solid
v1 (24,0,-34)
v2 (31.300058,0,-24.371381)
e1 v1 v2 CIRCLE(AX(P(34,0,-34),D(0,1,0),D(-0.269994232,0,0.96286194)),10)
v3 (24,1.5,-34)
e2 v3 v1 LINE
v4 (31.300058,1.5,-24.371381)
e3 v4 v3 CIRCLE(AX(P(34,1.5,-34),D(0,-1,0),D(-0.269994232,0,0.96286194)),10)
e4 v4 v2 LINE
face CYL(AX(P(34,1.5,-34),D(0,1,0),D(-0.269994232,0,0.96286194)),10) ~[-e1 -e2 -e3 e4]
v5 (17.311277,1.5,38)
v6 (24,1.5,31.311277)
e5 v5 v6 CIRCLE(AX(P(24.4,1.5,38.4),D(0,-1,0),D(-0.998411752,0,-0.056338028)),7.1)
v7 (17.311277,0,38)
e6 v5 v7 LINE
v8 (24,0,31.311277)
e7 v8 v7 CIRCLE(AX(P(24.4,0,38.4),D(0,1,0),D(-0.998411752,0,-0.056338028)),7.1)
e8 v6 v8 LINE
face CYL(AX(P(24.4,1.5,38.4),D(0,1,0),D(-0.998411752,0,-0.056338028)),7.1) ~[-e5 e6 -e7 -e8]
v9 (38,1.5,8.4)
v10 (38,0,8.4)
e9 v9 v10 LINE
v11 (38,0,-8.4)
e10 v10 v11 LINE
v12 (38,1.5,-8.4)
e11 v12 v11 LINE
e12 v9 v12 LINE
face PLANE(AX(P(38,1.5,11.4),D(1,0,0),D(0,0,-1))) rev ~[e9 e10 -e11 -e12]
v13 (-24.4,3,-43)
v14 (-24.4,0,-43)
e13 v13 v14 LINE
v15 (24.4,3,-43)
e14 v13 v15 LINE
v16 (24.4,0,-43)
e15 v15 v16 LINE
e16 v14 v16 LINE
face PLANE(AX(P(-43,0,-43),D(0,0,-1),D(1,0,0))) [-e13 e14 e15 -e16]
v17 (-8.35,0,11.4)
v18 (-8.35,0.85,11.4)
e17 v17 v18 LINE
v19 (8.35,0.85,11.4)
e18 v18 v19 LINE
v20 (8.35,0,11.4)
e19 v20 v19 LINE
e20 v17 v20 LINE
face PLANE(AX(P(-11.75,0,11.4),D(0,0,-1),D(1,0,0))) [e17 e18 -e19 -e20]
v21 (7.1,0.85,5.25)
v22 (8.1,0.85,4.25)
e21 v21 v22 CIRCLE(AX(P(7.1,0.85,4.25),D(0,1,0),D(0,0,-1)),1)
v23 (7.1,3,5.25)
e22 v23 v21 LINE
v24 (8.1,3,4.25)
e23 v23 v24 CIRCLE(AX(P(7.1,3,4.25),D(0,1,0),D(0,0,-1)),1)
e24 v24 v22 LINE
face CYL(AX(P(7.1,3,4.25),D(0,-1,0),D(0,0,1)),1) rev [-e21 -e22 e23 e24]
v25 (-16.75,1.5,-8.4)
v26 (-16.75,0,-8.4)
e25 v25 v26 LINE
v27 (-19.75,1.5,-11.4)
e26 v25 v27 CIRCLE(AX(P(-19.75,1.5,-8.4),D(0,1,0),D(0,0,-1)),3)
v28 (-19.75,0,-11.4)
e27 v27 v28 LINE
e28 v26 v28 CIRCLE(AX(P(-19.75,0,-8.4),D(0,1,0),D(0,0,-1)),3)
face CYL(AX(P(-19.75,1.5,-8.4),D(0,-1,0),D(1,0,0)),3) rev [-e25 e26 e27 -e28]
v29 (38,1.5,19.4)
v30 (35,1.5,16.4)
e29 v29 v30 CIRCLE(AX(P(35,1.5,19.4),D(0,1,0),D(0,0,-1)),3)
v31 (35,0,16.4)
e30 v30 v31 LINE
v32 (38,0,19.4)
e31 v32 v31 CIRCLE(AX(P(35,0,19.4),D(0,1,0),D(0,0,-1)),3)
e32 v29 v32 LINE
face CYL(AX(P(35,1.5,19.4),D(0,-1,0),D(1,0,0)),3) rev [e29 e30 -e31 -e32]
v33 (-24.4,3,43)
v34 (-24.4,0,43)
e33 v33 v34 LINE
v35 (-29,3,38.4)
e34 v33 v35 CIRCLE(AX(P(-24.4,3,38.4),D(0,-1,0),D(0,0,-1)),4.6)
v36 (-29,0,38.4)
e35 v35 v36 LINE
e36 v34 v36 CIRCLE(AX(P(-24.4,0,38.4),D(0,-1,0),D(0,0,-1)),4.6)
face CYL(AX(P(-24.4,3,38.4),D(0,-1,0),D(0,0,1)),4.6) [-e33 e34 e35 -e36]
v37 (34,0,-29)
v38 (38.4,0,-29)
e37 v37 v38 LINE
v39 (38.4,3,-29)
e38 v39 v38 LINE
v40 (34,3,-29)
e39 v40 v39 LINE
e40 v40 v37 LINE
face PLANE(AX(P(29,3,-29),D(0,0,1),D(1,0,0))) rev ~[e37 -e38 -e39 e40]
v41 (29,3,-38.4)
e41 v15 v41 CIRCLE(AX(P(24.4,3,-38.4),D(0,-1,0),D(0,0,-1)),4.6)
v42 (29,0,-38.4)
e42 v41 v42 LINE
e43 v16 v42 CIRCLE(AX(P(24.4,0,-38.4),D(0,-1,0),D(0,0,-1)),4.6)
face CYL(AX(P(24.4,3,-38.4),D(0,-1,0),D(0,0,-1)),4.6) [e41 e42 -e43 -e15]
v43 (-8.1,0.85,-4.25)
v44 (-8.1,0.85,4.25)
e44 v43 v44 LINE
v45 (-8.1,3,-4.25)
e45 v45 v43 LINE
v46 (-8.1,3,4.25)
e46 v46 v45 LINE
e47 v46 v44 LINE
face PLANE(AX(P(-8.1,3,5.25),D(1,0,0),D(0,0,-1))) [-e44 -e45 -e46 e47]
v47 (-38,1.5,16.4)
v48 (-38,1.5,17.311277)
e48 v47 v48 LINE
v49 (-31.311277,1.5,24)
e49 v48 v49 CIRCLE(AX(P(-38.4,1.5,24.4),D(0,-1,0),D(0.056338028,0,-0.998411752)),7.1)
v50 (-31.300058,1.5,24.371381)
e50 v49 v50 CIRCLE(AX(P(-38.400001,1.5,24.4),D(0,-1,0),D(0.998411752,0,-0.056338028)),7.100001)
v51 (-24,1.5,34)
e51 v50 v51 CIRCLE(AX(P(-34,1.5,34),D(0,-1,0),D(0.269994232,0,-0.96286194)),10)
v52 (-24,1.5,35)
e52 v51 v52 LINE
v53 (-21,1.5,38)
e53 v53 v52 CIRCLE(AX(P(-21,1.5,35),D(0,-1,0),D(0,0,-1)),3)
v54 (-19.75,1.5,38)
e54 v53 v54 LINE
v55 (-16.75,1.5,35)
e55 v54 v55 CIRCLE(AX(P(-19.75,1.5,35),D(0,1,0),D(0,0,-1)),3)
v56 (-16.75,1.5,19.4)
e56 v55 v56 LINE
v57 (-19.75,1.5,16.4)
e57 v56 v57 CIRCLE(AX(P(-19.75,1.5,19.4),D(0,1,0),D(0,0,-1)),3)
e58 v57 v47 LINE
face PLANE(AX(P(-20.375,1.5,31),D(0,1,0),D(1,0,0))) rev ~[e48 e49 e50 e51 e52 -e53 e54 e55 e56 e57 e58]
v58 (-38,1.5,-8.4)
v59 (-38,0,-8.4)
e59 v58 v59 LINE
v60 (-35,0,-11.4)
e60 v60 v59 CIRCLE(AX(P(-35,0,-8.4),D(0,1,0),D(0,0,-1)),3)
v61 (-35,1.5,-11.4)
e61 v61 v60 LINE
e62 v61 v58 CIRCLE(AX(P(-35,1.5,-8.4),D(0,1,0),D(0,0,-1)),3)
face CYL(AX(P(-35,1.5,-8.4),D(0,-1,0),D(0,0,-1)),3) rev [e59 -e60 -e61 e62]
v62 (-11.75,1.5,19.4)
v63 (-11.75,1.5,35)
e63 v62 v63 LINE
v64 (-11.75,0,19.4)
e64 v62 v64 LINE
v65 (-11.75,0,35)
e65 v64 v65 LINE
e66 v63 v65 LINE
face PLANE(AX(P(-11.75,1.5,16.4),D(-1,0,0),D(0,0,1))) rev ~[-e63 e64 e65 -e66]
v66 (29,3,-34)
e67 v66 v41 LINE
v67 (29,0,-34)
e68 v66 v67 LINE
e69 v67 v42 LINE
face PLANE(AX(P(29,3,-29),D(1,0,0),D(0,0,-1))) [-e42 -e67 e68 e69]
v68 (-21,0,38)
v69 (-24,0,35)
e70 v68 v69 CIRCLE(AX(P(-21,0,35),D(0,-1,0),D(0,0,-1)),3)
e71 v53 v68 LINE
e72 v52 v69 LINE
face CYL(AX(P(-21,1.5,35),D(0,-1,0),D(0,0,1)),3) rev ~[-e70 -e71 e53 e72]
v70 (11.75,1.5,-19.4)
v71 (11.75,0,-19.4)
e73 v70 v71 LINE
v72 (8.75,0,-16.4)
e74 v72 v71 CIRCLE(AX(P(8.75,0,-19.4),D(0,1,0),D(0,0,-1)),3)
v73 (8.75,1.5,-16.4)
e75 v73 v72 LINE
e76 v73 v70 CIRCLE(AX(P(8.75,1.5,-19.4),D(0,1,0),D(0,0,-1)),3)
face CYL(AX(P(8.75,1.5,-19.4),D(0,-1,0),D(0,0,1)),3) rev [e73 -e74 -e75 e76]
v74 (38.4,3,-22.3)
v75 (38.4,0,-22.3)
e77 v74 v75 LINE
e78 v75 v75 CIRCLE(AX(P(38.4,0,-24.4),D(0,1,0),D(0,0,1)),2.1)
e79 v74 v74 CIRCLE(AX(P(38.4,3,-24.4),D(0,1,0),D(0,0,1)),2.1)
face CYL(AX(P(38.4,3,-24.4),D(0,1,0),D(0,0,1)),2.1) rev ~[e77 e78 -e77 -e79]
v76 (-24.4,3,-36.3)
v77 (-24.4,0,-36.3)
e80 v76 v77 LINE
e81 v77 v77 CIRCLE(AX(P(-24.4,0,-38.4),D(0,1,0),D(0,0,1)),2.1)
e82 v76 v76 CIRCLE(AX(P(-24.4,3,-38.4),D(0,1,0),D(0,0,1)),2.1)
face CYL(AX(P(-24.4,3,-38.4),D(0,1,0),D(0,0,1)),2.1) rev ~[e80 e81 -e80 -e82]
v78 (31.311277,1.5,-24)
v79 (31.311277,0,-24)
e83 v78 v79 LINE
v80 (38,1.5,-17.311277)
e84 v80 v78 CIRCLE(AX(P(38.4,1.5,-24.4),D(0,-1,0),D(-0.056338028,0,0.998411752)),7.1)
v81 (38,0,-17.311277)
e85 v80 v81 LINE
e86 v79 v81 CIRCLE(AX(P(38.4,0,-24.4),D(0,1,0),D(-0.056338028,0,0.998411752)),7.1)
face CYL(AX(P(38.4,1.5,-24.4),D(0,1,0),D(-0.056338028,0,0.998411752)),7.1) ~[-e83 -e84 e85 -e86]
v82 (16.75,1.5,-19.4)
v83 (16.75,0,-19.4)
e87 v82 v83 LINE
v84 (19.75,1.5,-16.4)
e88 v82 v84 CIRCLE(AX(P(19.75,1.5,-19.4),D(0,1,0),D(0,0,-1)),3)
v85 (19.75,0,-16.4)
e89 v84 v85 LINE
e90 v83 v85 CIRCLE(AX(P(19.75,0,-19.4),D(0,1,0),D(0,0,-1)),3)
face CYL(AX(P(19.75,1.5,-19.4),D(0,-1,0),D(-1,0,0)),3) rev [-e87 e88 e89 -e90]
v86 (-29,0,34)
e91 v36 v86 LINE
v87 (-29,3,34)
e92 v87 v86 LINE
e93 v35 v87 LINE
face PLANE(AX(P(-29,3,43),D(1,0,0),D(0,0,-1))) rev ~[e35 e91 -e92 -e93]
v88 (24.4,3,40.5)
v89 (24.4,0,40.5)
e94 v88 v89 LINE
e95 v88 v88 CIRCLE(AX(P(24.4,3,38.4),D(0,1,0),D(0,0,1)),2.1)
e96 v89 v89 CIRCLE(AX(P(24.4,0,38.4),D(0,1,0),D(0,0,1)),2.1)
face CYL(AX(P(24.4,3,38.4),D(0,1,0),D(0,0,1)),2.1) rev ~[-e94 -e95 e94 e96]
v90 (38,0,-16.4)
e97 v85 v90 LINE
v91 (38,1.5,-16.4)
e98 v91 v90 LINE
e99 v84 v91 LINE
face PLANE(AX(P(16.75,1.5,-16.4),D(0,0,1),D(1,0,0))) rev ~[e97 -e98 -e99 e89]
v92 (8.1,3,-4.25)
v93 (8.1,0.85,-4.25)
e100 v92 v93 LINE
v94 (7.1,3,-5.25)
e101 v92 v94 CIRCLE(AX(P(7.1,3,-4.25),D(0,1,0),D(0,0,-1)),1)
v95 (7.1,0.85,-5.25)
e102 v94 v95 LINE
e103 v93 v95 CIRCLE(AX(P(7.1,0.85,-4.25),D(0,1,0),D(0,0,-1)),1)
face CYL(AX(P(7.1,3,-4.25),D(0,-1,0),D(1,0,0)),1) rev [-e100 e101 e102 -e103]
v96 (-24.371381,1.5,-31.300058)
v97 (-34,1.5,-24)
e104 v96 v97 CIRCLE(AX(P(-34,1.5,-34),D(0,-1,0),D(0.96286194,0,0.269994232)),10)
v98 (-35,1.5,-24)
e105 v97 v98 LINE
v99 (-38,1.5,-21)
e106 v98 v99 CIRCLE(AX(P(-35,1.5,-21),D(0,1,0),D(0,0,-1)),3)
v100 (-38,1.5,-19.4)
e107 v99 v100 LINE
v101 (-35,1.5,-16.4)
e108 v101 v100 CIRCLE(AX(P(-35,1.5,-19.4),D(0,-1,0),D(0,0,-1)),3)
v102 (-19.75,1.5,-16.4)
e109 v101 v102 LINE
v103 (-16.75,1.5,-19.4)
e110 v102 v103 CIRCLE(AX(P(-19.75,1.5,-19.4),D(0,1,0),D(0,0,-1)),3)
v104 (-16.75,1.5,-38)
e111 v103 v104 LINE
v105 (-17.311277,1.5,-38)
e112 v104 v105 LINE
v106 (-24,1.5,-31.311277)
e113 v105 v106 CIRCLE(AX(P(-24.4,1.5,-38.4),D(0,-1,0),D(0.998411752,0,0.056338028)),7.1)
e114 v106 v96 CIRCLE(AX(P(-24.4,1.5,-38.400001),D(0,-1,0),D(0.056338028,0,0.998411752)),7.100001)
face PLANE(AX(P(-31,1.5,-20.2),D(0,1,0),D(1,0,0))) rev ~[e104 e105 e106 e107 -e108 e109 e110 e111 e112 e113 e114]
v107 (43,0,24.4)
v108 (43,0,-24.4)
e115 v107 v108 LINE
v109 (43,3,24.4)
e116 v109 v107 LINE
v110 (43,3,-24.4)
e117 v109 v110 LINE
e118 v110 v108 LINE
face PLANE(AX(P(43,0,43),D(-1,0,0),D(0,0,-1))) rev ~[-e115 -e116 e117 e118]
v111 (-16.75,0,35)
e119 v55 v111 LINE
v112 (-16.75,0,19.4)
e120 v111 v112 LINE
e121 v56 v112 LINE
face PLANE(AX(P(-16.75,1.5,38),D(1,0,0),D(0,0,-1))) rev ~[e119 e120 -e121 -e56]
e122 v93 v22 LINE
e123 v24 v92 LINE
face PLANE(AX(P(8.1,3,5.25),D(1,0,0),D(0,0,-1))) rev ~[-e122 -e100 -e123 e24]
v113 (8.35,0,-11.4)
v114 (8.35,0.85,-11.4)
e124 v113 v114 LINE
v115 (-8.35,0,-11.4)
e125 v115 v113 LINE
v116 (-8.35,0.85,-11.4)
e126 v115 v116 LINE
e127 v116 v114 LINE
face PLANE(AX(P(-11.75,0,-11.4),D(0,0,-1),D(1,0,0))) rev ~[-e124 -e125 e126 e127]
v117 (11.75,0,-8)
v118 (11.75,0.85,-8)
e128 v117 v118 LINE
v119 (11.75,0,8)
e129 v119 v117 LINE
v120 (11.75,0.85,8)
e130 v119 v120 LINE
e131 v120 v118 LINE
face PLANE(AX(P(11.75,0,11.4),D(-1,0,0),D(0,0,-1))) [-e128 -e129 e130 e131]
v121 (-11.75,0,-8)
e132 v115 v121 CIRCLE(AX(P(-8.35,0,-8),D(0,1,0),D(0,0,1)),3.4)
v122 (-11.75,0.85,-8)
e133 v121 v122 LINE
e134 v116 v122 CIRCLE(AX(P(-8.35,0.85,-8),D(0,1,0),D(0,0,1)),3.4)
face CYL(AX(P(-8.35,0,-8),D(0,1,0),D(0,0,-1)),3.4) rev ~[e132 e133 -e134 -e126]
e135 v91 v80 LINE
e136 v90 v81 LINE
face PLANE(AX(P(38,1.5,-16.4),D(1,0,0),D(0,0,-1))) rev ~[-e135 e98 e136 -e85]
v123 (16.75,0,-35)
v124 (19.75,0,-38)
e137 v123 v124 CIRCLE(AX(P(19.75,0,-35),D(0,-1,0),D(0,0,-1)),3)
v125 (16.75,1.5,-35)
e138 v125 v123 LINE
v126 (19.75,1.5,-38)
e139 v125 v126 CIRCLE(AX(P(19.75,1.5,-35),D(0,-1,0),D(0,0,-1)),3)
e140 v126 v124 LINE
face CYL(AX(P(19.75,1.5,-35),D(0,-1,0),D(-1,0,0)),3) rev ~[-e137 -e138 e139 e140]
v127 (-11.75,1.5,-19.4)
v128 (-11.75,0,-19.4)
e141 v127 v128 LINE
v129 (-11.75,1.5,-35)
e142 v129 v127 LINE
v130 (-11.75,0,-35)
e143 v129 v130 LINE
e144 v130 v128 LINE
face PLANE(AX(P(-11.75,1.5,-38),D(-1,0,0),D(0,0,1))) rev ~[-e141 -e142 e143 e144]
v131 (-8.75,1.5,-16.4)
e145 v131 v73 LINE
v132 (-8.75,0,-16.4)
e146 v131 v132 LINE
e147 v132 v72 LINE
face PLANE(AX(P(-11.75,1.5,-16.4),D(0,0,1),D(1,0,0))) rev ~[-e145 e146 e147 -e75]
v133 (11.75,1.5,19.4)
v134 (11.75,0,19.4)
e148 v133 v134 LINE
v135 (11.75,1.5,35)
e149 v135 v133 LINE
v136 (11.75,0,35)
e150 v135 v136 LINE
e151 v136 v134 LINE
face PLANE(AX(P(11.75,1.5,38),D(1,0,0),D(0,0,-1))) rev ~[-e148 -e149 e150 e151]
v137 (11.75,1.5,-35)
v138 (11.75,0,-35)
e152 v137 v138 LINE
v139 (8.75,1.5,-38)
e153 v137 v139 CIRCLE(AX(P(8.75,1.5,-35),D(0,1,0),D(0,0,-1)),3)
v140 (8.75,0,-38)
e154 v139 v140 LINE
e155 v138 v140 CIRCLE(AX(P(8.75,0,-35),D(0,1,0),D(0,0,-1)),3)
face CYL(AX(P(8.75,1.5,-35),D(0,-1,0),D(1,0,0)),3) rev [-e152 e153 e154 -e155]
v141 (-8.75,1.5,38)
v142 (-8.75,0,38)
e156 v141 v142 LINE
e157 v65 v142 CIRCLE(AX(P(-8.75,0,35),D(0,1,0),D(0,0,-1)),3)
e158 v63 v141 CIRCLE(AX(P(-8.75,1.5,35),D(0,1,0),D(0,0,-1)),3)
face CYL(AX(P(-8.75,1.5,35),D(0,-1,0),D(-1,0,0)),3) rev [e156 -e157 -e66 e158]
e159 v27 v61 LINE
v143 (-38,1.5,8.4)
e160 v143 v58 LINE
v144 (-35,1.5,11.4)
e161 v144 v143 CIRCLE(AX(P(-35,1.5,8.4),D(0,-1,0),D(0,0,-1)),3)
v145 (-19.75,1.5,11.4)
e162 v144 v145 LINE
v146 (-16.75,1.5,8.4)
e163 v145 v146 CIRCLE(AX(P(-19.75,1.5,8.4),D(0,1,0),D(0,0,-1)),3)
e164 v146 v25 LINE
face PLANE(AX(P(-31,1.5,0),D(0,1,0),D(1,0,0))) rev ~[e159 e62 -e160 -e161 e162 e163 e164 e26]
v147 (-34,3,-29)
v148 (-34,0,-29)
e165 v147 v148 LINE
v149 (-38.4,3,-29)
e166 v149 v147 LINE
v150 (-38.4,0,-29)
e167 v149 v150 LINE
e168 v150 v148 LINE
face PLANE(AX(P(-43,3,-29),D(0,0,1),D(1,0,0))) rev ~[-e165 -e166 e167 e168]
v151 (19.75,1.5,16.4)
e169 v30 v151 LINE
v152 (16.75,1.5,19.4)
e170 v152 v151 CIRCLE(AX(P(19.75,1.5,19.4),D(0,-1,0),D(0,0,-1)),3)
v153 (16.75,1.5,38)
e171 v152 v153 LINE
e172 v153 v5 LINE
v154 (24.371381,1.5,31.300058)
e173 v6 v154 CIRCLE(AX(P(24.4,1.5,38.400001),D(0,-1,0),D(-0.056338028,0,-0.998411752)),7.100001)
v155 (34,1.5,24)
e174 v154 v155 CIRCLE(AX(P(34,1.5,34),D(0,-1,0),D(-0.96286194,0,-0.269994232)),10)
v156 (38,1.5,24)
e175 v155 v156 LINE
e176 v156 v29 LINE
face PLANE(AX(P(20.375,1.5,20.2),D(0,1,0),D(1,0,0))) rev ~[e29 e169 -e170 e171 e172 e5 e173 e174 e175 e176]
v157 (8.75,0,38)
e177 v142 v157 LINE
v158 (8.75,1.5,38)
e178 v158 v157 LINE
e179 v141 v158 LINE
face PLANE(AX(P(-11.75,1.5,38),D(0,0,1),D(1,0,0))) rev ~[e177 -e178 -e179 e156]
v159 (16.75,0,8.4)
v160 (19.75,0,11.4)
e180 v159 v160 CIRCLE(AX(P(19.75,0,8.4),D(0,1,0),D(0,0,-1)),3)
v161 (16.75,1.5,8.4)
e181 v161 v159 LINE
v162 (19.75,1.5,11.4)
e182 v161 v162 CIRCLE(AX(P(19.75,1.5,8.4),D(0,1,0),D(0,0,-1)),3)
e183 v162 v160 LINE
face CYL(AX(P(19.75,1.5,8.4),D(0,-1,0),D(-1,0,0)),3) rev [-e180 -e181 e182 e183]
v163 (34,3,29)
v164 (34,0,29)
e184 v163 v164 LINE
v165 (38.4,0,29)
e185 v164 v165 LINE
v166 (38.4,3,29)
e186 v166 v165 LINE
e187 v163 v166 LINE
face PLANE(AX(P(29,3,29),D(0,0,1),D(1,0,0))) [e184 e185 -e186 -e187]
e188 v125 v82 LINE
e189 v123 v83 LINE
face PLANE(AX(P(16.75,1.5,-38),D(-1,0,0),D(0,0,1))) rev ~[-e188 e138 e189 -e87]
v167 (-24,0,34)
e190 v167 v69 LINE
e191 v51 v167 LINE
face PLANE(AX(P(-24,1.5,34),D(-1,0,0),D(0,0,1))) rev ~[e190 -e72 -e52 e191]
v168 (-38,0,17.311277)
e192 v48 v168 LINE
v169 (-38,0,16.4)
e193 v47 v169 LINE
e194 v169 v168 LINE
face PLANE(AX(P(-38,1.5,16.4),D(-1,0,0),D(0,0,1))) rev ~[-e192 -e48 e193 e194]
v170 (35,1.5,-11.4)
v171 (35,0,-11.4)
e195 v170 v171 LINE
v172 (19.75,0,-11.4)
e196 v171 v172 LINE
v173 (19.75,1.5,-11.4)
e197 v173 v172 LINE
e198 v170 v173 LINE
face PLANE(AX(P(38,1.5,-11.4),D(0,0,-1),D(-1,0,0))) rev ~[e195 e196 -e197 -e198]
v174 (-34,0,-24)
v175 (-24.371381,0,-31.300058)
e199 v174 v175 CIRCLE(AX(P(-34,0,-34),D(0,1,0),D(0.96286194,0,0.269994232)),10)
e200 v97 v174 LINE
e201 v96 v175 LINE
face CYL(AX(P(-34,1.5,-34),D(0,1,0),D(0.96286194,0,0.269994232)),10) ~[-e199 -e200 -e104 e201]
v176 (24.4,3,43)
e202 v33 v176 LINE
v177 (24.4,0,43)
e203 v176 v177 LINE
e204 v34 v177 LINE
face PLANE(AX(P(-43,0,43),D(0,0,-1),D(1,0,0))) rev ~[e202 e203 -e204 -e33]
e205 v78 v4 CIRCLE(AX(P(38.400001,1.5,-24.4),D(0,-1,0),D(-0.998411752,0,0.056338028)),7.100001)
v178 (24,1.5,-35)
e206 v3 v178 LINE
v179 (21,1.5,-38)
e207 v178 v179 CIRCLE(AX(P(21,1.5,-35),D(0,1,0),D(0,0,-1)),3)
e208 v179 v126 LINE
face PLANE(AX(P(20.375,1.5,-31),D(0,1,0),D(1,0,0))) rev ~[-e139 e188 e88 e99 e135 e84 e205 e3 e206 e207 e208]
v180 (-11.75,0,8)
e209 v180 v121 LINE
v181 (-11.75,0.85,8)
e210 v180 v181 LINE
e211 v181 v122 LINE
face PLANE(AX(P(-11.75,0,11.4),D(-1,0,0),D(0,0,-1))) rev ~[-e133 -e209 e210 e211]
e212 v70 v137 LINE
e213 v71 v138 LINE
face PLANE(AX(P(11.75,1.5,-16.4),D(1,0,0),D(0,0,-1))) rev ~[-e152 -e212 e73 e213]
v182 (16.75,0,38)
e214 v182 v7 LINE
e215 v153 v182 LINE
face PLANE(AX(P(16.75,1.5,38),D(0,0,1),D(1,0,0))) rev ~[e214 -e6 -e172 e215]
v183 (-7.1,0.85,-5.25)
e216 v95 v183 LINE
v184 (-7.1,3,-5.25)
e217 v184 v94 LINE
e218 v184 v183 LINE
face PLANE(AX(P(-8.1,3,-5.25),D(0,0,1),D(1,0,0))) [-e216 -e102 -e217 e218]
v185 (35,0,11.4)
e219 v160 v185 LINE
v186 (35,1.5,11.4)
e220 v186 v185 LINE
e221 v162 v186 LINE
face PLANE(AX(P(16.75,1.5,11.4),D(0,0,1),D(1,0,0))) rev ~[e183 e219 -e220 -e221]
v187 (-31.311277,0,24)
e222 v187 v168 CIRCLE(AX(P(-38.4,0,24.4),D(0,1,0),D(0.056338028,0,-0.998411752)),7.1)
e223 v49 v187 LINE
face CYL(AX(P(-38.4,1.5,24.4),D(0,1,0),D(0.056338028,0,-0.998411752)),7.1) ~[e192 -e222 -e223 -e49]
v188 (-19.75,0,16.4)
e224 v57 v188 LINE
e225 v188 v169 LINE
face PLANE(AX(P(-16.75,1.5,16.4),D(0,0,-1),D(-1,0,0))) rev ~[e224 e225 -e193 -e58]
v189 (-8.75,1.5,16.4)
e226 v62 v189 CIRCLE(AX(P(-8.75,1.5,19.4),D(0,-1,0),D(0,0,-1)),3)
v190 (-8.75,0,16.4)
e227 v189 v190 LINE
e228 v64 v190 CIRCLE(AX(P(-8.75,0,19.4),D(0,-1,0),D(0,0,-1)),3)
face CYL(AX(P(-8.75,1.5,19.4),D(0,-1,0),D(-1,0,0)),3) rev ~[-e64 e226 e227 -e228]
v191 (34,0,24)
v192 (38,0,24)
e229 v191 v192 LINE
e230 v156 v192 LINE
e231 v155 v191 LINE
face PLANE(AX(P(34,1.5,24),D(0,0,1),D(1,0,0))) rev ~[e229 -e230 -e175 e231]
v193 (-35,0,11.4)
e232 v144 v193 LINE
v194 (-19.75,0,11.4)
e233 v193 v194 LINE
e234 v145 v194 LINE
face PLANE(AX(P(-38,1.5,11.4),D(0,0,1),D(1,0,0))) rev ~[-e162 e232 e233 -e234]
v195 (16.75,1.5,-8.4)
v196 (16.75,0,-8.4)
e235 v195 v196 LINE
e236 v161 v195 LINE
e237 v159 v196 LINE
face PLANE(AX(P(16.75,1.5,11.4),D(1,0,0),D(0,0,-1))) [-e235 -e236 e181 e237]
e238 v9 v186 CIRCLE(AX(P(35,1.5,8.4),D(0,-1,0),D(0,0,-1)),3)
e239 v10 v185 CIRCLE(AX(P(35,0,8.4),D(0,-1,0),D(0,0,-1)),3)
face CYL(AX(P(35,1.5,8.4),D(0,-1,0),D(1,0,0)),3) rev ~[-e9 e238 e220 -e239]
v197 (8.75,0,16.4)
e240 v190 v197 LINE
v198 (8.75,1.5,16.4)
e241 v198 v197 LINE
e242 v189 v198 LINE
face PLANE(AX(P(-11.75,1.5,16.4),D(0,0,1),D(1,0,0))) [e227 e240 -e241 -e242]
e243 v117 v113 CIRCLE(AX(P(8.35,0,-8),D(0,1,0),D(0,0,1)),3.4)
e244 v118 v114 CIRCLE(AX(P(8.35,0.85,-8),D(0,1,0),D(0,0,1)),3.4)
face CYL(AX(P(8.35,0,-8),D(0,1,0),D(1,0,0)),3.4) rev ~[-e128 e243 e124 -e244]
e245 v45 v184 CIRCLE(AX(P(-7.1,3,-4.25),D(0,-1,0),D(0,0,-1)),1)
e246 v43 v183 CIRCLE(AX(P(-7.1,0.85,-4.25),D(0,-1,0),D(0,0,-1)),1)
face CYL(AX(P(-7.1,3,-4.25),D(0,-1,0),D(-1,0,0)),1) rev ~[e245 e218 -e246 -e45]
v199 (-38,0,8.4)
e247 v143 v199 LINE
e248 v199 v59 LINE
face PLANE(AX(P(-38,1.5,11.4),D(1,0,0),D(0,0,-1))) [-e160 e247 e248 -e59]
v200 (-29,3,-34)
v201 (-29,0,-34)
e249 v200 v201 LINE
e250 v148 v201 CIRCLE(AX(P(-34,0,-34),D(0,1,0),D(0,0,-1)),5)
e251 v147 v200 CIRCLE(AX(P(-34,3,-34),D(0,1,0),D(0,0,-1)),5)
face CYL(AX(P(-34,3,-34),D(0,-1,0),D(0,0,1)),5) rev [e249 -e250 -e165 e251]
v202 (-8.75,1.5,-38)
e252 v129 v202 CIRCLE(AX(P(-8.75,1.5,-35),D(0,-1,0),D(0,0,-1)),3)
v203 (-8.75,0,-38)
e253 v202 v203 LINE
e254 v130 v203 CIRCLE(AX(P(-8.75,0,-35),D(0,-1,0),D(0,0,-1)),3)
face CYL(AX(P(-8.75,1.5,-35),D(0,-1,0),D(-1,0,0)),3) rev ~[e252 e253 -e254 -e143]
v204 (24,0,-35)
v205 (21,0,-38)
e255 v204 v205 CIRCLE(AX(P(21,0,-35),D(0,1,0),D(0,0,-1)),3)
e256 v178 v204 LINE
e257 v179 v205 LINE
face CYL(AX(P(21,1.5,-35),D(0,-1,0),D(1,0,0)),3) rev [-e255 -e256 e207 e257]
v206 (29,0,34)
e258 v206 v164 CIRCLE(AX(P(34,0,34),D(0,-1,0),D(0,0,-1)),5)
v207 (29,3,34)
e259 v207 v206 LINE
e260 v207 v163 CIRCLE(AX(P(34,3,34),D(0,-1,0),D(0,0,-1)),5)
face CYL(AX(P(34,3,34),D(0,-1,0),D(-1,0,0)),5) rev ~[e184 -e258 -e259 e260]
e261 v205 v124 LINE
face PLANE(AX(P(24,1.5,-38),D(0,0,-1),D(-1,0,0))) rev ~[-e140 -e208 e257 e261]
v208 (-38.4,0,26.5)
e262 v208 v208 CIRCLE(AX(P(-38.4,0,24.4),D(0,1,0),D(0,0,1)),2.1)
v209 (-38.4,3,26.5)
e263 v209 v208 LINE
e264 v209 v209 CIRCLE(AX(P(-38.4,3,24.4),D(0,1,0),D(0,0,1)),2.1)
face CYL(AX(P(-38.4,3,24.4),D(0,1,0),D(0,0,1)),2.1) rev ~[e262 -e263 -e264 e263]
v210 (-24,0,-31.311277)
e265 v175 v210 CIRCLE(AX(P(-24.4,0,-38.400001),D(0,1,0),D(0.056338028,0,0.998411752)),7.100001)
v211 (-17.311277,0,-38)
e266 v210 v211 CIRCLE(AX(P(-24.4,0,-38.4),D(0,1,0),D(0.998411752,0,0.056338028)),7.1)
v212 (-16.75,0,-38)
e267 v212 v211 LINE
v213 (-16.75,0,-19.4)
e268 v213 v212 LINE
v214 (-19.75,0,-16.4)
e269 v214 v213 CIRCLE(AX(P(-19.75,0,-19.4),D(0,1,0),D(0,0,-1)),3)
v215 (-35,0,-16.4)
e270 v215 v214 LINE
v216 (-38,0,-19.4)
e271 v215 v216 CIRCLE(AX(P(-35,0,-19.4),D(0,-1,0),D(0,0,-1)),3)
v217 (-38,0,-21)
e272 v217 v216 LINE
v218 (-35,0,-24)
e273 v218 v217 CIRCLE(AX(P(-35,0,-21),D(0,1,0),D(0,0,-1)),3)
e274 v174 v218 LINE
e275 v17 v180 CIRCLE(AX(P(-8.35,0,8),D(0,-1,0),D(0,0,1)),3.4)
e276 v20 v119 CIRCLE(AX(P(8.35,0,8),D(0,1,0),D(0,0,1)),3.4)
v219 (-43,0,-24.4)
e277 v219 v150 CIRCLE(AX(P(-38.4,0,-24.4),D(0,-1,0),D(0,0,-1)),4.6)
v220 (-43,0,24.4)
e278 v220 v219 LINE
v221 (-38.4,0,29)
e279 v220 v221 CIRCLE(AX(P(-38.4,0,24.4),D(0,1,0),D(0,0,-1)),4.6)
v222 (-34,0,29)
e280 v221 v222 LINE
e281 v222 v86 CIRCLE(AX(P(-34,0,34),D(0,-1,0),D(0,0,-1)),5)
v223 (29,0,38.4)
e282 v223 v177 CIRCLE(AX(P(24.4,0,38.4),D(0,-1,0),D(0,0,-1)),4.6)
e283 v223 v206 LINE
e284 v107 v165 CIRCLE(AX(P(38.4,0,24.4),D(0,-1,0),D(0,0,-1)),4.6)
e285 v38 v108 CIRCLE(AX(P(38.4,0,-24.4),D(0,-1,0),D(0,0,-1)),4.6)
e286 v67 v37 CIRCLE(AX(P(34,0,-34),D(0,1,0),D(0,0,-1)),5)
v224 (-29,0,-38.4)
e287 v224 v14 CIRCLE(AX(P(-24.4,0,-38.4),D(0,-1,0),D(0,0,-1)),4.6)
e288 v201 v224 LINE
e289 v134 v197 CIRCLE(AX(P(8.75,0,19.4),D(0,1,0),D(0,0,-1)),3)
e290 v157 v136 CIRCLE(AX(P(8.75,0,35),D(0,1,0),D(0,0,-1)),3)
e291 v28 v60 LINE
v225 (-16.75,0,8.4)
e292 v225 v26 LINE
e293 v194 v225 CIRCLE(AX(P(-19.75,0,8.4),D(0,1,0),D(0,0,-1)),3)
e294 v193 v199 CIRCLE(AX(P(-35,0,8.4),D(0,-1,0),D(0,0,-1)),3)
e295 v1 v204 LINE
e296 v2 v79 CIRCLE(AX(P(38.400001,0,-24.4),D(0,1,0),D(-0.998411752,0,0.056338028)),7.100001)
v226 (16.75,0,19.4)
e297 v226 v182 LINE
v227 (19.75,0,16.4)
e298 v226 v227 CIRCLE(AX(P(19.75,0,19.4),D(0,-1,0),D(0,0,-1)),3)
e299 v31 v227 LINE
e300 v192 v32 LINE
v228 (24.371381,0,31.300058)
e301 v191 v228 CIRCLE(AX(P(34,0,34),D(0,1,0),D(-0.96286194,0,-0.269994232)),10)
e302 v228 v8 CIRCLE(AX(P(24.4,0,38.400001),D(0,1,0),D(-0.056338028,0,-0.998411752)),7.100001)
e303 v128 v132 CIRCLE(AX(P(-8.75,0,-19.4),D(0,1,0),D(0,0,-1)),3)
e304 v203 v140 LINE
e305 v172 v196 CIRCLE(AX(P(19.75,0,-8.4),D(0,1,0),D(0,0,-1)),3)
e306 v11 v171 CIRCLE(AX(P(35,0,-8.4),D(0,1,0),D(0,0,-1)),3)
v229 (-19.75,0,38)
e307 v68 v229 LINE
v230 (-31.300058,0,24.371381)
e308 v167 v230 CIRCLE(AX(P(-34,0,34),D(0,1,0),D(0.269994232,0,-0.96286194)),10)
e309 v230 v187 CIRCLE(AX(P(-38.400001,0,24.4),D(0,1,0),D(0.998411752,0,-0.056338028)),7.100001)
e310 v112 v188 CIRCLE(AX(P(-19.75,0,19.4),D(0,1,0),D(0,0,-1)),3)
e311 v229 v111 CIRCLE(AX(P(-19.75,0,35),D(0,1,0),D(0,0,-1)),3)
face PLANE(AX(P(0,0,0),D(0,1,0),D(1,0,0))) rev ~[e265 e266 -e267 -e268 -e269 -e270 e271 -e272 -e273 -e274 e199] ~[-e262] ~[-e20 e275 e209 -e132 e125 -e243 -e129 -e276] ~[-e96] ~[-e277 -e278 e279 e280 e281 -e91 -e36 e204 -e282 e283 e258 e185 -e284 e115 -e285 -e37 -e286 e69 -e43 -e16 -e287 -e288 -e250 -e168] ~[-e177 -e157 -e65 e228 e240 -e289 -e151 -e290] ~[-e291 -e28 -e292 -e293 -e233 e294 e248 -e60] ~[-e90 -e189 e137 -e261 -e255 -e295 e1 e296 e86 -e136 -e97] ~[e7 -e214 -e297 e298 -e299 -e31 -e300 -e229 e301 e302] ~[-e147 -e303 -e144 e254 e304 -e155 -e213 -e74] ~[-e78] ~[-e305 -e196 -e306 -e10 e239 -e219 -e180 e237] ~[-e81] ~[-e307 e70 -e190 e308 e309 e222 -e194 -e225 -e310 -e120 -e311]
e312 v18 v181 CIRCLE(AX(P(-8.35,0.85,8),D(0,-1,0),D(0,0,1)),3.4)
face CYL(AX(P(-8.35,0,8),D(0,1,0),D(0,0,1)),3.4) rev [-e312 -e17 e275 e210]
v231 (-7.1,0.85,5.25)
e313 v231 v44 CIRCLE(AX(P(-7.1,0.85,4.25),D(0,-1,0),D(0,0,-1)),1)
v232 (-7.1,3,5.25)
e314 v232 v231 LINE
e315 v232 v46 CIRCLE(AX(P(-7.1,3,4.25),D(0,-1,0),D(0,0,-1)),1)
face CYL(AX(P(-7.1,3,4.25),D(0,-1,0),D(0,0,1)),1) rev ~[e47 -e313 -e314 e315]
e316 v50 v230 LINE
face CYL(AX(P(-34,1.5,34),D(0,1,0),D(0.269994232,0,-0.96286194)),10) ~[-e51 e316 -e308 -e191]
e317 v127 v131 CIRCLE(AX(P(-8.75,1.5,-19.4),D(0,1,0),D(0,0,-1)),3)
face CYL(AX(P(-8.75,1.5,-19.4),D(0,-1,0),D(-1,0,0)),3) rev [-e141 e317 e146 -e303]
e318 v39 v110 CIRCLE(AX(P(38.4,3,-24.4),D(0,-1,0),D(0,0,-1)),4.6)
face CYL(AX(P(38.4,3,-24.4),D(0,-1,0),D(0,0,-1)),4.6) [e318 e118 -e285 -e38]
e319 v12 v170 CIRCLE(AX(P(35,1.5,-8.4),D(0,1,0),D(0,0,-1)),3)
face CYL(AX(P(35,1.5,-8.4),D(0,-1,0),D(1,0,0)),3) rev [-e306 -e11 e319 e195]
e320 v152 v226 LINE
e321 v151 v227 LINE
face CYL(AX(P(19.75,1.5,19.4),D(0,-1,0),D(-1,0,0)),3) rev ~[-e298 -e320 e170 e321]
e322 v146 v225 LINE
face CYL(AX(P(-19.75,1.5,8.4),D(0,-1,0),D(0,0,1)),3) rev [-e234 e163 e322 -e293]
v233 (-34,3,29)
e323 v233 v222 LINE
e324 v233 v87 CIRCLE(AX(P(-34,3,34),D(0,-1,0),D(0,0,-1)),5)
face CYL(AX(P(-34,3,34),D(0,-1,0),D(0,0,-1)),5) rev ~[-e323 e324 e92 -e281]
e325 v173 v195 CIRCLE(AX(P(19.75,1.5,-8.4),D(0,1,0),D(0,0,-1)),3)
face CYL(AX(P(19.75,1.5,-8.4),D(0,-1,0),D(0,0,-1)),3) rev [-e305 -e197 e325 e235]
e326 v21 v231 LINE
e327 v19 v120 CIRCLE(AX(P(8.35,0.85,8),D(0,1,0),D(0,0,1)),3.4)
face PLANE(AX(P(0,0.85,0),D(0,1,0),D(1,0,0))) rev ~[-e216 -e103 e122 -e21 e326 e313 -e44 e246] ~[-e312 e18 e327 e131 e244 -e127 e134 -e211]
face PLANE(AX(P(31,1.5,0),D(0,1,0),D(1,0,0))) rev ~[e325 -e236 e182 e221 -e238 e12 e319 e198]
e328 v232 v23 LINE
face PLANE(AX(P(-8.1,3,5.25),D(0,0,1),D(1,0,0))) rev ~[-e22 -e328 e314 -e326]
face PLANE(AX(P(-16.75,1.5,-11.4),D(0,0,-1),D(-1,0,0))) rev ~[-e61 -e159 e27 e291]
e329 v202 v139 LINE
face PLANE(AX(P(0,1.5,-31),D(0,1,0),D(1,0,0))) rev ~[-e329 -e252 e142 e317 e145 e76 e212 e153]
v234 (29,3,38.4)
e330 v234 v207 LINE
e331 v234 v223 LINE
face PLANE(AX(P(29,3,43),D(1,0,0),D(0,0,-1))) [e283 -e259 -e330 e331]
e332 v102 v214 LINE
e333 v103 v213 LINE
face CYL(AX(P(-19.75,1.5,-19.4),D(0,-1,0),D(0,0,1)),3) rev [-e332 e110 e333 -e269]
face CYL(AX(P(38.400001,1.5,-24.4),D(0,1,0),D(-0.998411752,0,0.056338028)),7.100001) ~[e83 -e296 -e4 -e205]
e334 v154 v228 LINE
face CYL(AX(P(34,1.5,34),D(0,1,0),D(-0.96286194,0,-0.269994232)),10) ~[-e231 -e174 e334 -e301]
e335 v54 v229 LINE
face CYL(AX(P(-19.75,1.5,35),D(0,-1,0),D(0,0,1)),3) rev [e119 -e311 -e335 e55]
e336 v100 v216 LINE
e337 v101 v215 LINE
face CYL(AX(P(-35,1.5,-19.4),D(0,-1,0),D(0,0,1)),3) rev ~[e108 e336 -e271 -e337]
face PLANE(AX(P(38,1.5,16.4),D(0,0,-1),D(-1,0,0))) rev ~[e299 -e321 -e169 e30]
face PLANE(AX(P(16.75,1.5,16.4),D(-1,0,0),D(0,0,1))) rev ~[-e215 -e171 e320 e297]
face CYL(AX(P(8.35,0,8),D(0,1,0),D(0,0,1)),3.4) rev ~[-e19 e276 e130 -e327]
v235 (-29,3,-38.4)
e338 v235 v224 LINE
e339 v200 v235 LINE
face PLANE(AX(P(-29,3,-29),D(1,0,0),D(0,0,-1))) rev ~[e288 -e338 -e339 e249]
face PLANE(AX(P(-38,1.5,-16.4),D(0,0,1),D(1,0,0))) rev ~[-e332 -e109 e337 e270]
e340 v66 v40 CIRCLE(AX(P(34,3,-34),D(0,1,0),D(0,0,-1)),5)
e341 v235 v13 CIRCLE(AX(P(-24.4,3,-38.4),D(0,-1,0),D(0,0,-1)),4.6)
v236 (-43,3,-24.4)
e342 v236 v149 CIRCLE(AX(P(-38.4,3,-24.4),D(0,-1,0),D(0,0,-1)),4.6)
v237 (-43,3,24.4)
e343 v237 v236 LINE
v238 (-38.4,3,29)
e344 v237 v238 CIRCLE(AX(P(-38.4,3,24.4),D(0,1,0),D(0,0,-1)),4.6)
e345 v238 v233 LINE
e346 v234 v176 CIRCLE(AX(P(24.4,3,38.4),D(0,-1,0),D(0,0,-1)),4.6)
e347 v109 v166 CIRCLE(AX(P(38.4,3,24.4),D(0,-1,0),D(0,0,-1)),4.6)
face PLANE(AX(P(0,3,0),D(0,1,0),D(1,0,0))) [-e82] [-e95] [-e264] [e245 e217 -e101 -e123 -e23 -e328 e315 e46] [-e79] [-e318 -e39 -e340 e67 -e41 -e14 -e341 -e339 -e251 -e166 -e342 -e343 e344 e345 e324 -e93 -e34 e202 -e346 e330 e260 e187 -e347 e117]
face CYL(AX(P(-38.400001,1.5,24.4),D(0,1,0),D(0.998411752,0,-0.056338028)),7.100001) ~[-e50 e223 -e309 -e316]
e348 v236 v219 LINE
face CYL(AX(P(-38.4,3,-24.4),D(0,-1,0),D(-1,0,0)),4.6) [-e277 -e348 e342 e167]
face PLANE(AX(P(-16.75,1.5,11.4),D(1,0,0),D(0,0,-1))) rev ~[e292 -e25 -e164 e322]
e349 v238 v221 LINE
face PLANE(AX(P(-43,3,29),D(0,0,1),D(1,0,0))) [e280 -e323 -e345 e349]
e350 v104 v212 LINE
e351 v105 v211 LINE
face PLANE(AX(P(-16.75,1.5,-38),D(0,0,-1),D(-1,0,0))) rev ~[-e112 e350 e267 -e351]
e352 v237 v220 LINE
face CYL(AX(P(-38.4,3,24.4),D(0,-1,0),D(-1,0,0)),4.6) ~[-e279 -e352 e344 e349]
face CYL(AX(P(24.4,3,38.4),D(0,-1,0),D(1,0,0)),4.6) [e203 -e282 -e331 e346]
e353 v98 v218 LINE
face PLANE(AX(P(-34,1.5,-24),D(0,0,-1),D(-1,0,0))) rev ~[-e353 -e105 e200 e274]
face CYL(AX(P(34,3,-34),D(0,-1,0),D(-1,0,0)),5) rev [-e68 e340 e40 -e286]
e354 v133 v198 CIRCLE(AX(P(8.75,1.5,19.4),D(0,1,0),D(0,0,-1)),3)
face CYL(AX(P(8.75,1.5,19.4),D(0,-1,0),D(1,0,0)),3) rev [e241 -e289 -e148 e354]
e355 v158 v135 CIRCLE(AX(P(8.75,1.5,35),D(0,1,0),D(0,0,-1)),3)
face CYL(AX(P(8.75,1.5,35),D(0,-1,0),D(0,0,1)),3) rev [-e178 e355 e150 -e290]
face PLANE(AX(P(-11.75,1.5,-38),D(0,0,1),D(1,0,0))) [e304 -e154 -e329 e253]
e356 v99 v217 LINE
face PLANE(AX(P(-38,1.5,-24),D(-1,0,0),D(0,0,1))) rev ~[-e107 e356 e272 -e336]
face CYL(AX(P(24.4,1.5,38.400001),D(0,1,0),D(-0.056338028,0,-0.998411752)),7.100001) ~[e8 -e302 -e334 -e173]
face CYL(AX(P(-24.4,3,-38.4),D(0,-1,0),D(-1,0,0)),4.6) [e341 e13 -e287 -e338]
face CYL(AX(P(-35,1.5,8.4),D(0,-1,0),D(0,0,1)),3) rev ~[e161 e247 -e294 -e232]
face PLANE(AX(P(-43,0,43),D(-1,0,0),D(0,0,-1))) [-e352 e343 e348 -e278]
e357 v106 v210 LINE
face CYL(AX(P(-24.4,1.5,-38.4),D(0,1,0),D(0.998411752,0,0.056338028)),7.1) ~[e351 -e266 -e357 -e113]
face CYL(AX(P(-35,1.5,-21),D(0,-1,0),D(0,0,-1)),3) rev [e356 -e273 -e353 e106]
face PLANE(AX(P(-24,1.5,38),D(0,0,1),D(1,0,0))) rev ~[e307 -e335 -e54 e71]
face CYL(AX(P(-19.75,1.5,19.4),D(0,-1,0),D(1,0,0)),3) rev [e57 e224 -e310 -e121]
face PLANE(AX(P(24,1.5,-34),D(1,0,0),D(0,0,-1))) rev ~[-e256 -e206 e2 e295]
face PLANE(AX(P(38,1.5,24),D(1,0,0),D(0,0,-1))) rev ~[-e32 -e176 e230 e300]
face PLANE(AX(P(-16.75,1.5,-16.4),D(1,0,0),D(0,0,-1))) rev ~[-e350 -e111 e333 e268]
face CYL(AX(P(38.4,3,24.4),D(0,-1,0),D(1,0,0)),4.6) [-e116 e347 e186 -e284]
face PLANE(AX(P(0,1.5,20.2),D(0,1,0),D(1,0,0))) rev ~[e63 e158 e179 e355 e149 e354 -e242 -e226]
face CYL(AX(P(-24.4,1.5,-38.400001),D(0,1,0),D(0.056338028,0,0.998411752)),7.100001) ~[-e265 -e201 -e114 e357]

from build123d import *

# Parameters (mm, degrees)
SKETCH1_W           = 86
SKETCH1_H           = 86
BOSS_EXTRUDE1_DEPTH = 3
SKETCH2_W           = 14
SKETCH2_H           = 14
SKETCH2_W_2         = 16.2
SKETCH2_H_2         = 10.5
CUT_EXTRUDE1_DEPTH  = 61.88513776
FILLET1_R           = 4.6
FILLET2_R           = 5
SKETCH3_R           = 2.1
CUT_EXTRUDE2_DEPTH  = 61.88513776
CUT_EXTRUDE3_START  = -3
SKETCH4_W           = 23.5
SKETCH4_H           = 22.8
CUT_EXTRUDE3_DEPTH  = 0.85
FILLET3_R           = 3.4
CUT_EXTRUDE4_START  = -1.5
SKETCH5_W           = 23.5
SKETCH5_H           = 14
SKETCH5_H_2         = 7.6
SKETCH5_W_2         = 14
SKETCH5_H_3         = 22.8
SKETCH5_W_3         = 7.25
CUT_EXTRUDE4_DEPTH  = 60.38513776
FILLET4_R           = 3
FILLET5_R           = 1


with BuildPart() as part:
    # Sketch1 → Boss-Extrude1 (new body)
    with BuildSketch(Plane(origin=(0, 0, 0), x_dir=(1, 0, 0), z_dir=(0, 1, 0))):
        Rectangle(SKETCH1_W, SKETCH1_H)
    extrude(amount=BOSS_EXTRUDE1_DEPTH)

    # Sketch2 → Cut-Extrude1 (cut, through all)
    with BuildSketch(Plane(origin=(0, 3, 0), x_dir=(1, 0, 0), z_dir=(0, 1, 0))):
        with Locations((36, 36)):
            Rectangle(SKETCH2_W, SKETCH2_H)
        with Locations((-36, 36)):
            Rectangle(SKETCH2_W, SKETCH2_H)
        with Locations((36, -36)):
            Rectangle(SKETCH2_W, SKETCH2_H)
        with Locations((-36, -36)):
            Rectangle(SKETCH2_W, SKETCH2_H)
        Rectangle(SKETCH2_W_2, SKETCH2_H_2)
    extrude(amount=-CUT_EXTRUDE1_DEPTH, mode=Mode.SUBTRACT)

    # Fillet1
    fillet1_edges = [part.edges().sort_by_distance(p)[0] for p in [
        (-43, 1.5, 29),
        (-29, 1.5, 43),
        (43, 1.5, 29),
        (29, 1.5, 43),
        (29, 1.5, -43),
        (43, 1.5, -29),
        (-43, 1.5, -29),
        (-29, 1.5, -43),
    ]]
    fillet(fillet1_edges, radius=FILLET1_R)

    # Fillet2
    fillet2_edges = [part.edges().sort_by_distance(p)[0] for p in [
        (-29, 1.5, 29),
        (29, 1.5, 29),
        (29, 1.5, -29),
        (-29, 1.5, -29),
    ]]
    fillet(fillet2_edges, radius=FILLET2_R)

    # Sketch3 → Cut-Extrude2 (cut, through all)
    with BuildSketch(Plane(origin=(0, 3, 0), x_dir=(1, 0, 0), z_dir=(0, 1, 0))):
        with Locations(Location((38.4, 24.4, 0), (0, 0, 270))):
            Circle(SKETCH3_R)
        with Locations(Location((-24.4, 38.4, 0), (0, 0, 270))):
            Circle(SKETCH3_R)
        with Locations(Location((24.4, -38.4, 0), (0, 0, 270))):
            Circle(SKETCH3_R)
        with Locations(Location((-38.4, -24.4, 0), (0, 0, 270))):
            Circle(SKETCH3_R)
    extrude(amount=-CUT_EXTRUDE2_DEPTH, mode=Mode.SUBTRACT)

    # Sketch4 → Cut-Extrude3 (cut)
    with BuildSketch(Plane(origin=(0, 3, 0), x_dir=(1, 0, 0), z_dir=(0, 1, 0)).offset(CUT_EXTRUDE3_START)):
        Rectangle(SKETCH4_W, SKETCH4_H)
    extrude(amount=CUT_EXTRUDE3_DEPTH, mode=Mode.SUBTRACT)

    # Fillet3
    fillet3_edges = [part.edges().sort_by_distance(p)[0] for p in [
        (-11.75, 0.425, 11.4),
        (11.75, 0.425, 11.4),
        (11.75, 0.425, -11.4),
        (-11.75, 0.425, -11.4),
    ]]
    fillet(fillet3_edges, radius=FILLET3_R)

    # Sketch5 → Cut-Extrude4 (cut, through all)
    with BuildSketch(Plane(origin=(0, 3, 0), x_dir=(1, 0, 0), z_dir=(0, 1, 0)).offset(CUT_EXTRUDE4_START)):
        with Locations((0, 31)):
            Rectangle(SKETCH5_W, SKETCH5_H)
        with Locations((0, 20.2)):
            Rectangle(SKETCH5_W, SKETCH5_H_2)
        with Locations((-31, 0)):
            Rectangle(SKETCH5_W_2, SKETCH5_H_3)
        with Locations((-20.375, 0)):
            Rectangle(SKETCH5_W_3, SKETCH5_H_3)
        with Locations((31, 0)):
            Rectangle(SKETCH5_W_2, SKETCH5_H_3)
        with Locations((20.375, 0)):
            Rectangle(SKETCH5_W_3, SKETCH5_H_3)
        with Locations((0, -20.2)):
            Rectangle(SKETCH5_W, SKETCH5_H_2)
        with Locations((0, -31)):
            Rectangle(SKETCH5_W, SKETCH5_H)
        with Locations((20.375, -20.2)):
            Rectangle(SKETCH5_W_3, SKETCH5_H_2)
        Polygon((24, -16.4), (24, -24), (34, -24), (38, -24), (38, -16.4), align=None)
        with BuildLine():
            Line((24, -24), (16.75, -24))
            Line((16.75, -24), (16.75, -38))
            Line((16.75, -38), (17.311276561, -38))
            ThreePointArc((17.311276561, -38), (19.379541854, -33.379541854), (24, -31.311276561))
            Line((24, -31.311276561), (24, -24))
        make_face()
        with BuildLine():
            Line((34, -24), (24, -24))
            Line((24, -24), (24, -31.311276561))
            ThreePointArc((24, -31.311276561), (24.185616902, -31.303237366), (24.371380604, -31.300057681))
            ThreePointArc((24.371380604, -31.300057681), (27.958453145, -26.031329371), (34, -24))
        make_face()
        Polygon((-16.75, -24), (-24, -24), (-24, -34), (-24, -38), (-16.75, -38), align=None)
        with Locations((-20.375, -20.2)):
            Rectangle(SKETCH5_W_3, SKETCH5_H_2)
        with BuildLine():
            Line((-24, -24), (-24, -16.4))
            Line((-24, -16.4), (-38, -16.4))
            Line((-38, -16.4), (-38, -17.311276561))
            ThreePointArc((-38, -17.311276561), (-33.379541854, -19.379541854), (-31.311276561, -24))
            Line((-31.311276561, -24), (-24, -24))
        make_face()
        with BuildLine():
            Line((-24, -34), (-24, -24))
            Line((-24, -24), (-31.311276561, -24))
            ThreePointArc((-31.311276561, -24), (-31.303237366, -24.185616902), (-31.300057681, -24.371380604))
            ThreePointArc((-31.300057681, -24.371380604), (-26.031329371, -27.958453145), (-24, -34))
        make_face()
        Polygon((-38, 16.4), (-24, 16.4), (-24, 24), (-34, 24), (-38, 24), align=None)
        with BuildLine():
            Line((-24, 31.311276561), (-24, 24))
            Line((-24, 24), (-16.75, 24))
            Line((-16.75, 24), (-16.75, 38))
            Line((-16.75, 38), (-17.311276561, 38))
            ThreePointArc((-17.311276561, 38), (-19.379541854, 33.379541854), (-24, 31.311276561))
        make_face()
        with Locations((-20.375, 20.2)):
            Rectangle(SKETCH5_W_3, SKETCH5_H_2)
        with BuildLine():
            Line((-34, 24), (-24, 24))
            Line((-24, 24), (-24, 31.311276561))
            ThreePointArc((-24, 31.311276561), (-24.185616902, 31.303237366), (-24.371380604, 31.300057681))
            ThreePointArc((-24.371380604, 31.300057681), (-27.958453145, 26.031329371), (-34, 24))
        make_face()
        Polygon((16.75, 38), (16.75, 24), (24, 24), (24, 34), (24, 38), align=None)
        with Locations((20.375, 20.2)):
            Rectangle(SKETCH5_W_3, SKETCH5_H_2)
        with BuildLine():
            Line((31.311276561, 24), (24, 24))
            Line((24, 24), (24, 16.4))
            Line((24, 16.4), (38, 16.4))
            Line((38, 16.4), (38, 17.311276561))
            ThreePointArc((38, 17.311276561), (33.379541854, 19.379541854), (31.311276561, 24))
        make_face()
        with BuildLine():
            Line((24, 34), (24, 24))
            Line((24, 24), (31.311276561, 24))
            ThreePointArc((31.311276561, 24), (31.303237366, 24.185616902), (31.300057681, 24.371380604))
            ThreePointArc((31.300057681, 24.371380604), (26.031329371, 27.958453145), (24, 34))
        make_face()
    extrude(amount=-CUT_EXTRUDE4_DEPTH, mode=Mode.SUBTRACT)

    # Fillet4
    fillet4_edges = [part.edges().sort_by_distance(p)[0] for p in [
        (-16.75, 0.75, 11.4),
        (-38, 0.75, 11.4),
        (-38, 0.75, -11.4),
        (-16.75, 0.75, -11.4),
        (16.75, 0.75, -11.4),
        (38, 0.75, -11.4),
        (38, 0.75, 11.4),
        (16.75, 0.75, 11.4),
        (-11.75, 0.75, 38),
        (-11.75, 0.75, 16.4),
        (11.75, 0.75, 16.4),
        (11.75, 0.75, 38),
        (16.75, 0.75, 16.4),
        (38, 0.75, 16.4),
        (-16.75, 0.75, 16.4),
        (-16.75, 0.75, 38),
        (-24, 0.75, 38),
        (-38, 0.75, -24),
        (-16.75, 0.75, -16.4),
        (-38, 0.75, -16.4),
        (16.75, 0.75, -16.4),
        (16.75, 0.75, -38),
        (24, 0.75, -38),
        (-11.75, 0.75, -16.4),
        (-11.75, 0.75, -38),
        (11.75, 0.75, -38),
        (11.75, 0.75, -16.4),
    ]]
    fillet(fillet4_edges, radius=FILLET4_R)

    # Fillet5
    fillet5_edges = [part.edges().sort_by_distance(p)[0] for p in [
        (-8.1, 1.925, -5.25),
        (8.1, 1.925, -5.25),
        (-8.1, 1.925, 5.25),
        (8.1, 1.925, 5.25),
    ]]
    fillet(fillet5_edges, radius=FILLET5_R)


solid = part.part
